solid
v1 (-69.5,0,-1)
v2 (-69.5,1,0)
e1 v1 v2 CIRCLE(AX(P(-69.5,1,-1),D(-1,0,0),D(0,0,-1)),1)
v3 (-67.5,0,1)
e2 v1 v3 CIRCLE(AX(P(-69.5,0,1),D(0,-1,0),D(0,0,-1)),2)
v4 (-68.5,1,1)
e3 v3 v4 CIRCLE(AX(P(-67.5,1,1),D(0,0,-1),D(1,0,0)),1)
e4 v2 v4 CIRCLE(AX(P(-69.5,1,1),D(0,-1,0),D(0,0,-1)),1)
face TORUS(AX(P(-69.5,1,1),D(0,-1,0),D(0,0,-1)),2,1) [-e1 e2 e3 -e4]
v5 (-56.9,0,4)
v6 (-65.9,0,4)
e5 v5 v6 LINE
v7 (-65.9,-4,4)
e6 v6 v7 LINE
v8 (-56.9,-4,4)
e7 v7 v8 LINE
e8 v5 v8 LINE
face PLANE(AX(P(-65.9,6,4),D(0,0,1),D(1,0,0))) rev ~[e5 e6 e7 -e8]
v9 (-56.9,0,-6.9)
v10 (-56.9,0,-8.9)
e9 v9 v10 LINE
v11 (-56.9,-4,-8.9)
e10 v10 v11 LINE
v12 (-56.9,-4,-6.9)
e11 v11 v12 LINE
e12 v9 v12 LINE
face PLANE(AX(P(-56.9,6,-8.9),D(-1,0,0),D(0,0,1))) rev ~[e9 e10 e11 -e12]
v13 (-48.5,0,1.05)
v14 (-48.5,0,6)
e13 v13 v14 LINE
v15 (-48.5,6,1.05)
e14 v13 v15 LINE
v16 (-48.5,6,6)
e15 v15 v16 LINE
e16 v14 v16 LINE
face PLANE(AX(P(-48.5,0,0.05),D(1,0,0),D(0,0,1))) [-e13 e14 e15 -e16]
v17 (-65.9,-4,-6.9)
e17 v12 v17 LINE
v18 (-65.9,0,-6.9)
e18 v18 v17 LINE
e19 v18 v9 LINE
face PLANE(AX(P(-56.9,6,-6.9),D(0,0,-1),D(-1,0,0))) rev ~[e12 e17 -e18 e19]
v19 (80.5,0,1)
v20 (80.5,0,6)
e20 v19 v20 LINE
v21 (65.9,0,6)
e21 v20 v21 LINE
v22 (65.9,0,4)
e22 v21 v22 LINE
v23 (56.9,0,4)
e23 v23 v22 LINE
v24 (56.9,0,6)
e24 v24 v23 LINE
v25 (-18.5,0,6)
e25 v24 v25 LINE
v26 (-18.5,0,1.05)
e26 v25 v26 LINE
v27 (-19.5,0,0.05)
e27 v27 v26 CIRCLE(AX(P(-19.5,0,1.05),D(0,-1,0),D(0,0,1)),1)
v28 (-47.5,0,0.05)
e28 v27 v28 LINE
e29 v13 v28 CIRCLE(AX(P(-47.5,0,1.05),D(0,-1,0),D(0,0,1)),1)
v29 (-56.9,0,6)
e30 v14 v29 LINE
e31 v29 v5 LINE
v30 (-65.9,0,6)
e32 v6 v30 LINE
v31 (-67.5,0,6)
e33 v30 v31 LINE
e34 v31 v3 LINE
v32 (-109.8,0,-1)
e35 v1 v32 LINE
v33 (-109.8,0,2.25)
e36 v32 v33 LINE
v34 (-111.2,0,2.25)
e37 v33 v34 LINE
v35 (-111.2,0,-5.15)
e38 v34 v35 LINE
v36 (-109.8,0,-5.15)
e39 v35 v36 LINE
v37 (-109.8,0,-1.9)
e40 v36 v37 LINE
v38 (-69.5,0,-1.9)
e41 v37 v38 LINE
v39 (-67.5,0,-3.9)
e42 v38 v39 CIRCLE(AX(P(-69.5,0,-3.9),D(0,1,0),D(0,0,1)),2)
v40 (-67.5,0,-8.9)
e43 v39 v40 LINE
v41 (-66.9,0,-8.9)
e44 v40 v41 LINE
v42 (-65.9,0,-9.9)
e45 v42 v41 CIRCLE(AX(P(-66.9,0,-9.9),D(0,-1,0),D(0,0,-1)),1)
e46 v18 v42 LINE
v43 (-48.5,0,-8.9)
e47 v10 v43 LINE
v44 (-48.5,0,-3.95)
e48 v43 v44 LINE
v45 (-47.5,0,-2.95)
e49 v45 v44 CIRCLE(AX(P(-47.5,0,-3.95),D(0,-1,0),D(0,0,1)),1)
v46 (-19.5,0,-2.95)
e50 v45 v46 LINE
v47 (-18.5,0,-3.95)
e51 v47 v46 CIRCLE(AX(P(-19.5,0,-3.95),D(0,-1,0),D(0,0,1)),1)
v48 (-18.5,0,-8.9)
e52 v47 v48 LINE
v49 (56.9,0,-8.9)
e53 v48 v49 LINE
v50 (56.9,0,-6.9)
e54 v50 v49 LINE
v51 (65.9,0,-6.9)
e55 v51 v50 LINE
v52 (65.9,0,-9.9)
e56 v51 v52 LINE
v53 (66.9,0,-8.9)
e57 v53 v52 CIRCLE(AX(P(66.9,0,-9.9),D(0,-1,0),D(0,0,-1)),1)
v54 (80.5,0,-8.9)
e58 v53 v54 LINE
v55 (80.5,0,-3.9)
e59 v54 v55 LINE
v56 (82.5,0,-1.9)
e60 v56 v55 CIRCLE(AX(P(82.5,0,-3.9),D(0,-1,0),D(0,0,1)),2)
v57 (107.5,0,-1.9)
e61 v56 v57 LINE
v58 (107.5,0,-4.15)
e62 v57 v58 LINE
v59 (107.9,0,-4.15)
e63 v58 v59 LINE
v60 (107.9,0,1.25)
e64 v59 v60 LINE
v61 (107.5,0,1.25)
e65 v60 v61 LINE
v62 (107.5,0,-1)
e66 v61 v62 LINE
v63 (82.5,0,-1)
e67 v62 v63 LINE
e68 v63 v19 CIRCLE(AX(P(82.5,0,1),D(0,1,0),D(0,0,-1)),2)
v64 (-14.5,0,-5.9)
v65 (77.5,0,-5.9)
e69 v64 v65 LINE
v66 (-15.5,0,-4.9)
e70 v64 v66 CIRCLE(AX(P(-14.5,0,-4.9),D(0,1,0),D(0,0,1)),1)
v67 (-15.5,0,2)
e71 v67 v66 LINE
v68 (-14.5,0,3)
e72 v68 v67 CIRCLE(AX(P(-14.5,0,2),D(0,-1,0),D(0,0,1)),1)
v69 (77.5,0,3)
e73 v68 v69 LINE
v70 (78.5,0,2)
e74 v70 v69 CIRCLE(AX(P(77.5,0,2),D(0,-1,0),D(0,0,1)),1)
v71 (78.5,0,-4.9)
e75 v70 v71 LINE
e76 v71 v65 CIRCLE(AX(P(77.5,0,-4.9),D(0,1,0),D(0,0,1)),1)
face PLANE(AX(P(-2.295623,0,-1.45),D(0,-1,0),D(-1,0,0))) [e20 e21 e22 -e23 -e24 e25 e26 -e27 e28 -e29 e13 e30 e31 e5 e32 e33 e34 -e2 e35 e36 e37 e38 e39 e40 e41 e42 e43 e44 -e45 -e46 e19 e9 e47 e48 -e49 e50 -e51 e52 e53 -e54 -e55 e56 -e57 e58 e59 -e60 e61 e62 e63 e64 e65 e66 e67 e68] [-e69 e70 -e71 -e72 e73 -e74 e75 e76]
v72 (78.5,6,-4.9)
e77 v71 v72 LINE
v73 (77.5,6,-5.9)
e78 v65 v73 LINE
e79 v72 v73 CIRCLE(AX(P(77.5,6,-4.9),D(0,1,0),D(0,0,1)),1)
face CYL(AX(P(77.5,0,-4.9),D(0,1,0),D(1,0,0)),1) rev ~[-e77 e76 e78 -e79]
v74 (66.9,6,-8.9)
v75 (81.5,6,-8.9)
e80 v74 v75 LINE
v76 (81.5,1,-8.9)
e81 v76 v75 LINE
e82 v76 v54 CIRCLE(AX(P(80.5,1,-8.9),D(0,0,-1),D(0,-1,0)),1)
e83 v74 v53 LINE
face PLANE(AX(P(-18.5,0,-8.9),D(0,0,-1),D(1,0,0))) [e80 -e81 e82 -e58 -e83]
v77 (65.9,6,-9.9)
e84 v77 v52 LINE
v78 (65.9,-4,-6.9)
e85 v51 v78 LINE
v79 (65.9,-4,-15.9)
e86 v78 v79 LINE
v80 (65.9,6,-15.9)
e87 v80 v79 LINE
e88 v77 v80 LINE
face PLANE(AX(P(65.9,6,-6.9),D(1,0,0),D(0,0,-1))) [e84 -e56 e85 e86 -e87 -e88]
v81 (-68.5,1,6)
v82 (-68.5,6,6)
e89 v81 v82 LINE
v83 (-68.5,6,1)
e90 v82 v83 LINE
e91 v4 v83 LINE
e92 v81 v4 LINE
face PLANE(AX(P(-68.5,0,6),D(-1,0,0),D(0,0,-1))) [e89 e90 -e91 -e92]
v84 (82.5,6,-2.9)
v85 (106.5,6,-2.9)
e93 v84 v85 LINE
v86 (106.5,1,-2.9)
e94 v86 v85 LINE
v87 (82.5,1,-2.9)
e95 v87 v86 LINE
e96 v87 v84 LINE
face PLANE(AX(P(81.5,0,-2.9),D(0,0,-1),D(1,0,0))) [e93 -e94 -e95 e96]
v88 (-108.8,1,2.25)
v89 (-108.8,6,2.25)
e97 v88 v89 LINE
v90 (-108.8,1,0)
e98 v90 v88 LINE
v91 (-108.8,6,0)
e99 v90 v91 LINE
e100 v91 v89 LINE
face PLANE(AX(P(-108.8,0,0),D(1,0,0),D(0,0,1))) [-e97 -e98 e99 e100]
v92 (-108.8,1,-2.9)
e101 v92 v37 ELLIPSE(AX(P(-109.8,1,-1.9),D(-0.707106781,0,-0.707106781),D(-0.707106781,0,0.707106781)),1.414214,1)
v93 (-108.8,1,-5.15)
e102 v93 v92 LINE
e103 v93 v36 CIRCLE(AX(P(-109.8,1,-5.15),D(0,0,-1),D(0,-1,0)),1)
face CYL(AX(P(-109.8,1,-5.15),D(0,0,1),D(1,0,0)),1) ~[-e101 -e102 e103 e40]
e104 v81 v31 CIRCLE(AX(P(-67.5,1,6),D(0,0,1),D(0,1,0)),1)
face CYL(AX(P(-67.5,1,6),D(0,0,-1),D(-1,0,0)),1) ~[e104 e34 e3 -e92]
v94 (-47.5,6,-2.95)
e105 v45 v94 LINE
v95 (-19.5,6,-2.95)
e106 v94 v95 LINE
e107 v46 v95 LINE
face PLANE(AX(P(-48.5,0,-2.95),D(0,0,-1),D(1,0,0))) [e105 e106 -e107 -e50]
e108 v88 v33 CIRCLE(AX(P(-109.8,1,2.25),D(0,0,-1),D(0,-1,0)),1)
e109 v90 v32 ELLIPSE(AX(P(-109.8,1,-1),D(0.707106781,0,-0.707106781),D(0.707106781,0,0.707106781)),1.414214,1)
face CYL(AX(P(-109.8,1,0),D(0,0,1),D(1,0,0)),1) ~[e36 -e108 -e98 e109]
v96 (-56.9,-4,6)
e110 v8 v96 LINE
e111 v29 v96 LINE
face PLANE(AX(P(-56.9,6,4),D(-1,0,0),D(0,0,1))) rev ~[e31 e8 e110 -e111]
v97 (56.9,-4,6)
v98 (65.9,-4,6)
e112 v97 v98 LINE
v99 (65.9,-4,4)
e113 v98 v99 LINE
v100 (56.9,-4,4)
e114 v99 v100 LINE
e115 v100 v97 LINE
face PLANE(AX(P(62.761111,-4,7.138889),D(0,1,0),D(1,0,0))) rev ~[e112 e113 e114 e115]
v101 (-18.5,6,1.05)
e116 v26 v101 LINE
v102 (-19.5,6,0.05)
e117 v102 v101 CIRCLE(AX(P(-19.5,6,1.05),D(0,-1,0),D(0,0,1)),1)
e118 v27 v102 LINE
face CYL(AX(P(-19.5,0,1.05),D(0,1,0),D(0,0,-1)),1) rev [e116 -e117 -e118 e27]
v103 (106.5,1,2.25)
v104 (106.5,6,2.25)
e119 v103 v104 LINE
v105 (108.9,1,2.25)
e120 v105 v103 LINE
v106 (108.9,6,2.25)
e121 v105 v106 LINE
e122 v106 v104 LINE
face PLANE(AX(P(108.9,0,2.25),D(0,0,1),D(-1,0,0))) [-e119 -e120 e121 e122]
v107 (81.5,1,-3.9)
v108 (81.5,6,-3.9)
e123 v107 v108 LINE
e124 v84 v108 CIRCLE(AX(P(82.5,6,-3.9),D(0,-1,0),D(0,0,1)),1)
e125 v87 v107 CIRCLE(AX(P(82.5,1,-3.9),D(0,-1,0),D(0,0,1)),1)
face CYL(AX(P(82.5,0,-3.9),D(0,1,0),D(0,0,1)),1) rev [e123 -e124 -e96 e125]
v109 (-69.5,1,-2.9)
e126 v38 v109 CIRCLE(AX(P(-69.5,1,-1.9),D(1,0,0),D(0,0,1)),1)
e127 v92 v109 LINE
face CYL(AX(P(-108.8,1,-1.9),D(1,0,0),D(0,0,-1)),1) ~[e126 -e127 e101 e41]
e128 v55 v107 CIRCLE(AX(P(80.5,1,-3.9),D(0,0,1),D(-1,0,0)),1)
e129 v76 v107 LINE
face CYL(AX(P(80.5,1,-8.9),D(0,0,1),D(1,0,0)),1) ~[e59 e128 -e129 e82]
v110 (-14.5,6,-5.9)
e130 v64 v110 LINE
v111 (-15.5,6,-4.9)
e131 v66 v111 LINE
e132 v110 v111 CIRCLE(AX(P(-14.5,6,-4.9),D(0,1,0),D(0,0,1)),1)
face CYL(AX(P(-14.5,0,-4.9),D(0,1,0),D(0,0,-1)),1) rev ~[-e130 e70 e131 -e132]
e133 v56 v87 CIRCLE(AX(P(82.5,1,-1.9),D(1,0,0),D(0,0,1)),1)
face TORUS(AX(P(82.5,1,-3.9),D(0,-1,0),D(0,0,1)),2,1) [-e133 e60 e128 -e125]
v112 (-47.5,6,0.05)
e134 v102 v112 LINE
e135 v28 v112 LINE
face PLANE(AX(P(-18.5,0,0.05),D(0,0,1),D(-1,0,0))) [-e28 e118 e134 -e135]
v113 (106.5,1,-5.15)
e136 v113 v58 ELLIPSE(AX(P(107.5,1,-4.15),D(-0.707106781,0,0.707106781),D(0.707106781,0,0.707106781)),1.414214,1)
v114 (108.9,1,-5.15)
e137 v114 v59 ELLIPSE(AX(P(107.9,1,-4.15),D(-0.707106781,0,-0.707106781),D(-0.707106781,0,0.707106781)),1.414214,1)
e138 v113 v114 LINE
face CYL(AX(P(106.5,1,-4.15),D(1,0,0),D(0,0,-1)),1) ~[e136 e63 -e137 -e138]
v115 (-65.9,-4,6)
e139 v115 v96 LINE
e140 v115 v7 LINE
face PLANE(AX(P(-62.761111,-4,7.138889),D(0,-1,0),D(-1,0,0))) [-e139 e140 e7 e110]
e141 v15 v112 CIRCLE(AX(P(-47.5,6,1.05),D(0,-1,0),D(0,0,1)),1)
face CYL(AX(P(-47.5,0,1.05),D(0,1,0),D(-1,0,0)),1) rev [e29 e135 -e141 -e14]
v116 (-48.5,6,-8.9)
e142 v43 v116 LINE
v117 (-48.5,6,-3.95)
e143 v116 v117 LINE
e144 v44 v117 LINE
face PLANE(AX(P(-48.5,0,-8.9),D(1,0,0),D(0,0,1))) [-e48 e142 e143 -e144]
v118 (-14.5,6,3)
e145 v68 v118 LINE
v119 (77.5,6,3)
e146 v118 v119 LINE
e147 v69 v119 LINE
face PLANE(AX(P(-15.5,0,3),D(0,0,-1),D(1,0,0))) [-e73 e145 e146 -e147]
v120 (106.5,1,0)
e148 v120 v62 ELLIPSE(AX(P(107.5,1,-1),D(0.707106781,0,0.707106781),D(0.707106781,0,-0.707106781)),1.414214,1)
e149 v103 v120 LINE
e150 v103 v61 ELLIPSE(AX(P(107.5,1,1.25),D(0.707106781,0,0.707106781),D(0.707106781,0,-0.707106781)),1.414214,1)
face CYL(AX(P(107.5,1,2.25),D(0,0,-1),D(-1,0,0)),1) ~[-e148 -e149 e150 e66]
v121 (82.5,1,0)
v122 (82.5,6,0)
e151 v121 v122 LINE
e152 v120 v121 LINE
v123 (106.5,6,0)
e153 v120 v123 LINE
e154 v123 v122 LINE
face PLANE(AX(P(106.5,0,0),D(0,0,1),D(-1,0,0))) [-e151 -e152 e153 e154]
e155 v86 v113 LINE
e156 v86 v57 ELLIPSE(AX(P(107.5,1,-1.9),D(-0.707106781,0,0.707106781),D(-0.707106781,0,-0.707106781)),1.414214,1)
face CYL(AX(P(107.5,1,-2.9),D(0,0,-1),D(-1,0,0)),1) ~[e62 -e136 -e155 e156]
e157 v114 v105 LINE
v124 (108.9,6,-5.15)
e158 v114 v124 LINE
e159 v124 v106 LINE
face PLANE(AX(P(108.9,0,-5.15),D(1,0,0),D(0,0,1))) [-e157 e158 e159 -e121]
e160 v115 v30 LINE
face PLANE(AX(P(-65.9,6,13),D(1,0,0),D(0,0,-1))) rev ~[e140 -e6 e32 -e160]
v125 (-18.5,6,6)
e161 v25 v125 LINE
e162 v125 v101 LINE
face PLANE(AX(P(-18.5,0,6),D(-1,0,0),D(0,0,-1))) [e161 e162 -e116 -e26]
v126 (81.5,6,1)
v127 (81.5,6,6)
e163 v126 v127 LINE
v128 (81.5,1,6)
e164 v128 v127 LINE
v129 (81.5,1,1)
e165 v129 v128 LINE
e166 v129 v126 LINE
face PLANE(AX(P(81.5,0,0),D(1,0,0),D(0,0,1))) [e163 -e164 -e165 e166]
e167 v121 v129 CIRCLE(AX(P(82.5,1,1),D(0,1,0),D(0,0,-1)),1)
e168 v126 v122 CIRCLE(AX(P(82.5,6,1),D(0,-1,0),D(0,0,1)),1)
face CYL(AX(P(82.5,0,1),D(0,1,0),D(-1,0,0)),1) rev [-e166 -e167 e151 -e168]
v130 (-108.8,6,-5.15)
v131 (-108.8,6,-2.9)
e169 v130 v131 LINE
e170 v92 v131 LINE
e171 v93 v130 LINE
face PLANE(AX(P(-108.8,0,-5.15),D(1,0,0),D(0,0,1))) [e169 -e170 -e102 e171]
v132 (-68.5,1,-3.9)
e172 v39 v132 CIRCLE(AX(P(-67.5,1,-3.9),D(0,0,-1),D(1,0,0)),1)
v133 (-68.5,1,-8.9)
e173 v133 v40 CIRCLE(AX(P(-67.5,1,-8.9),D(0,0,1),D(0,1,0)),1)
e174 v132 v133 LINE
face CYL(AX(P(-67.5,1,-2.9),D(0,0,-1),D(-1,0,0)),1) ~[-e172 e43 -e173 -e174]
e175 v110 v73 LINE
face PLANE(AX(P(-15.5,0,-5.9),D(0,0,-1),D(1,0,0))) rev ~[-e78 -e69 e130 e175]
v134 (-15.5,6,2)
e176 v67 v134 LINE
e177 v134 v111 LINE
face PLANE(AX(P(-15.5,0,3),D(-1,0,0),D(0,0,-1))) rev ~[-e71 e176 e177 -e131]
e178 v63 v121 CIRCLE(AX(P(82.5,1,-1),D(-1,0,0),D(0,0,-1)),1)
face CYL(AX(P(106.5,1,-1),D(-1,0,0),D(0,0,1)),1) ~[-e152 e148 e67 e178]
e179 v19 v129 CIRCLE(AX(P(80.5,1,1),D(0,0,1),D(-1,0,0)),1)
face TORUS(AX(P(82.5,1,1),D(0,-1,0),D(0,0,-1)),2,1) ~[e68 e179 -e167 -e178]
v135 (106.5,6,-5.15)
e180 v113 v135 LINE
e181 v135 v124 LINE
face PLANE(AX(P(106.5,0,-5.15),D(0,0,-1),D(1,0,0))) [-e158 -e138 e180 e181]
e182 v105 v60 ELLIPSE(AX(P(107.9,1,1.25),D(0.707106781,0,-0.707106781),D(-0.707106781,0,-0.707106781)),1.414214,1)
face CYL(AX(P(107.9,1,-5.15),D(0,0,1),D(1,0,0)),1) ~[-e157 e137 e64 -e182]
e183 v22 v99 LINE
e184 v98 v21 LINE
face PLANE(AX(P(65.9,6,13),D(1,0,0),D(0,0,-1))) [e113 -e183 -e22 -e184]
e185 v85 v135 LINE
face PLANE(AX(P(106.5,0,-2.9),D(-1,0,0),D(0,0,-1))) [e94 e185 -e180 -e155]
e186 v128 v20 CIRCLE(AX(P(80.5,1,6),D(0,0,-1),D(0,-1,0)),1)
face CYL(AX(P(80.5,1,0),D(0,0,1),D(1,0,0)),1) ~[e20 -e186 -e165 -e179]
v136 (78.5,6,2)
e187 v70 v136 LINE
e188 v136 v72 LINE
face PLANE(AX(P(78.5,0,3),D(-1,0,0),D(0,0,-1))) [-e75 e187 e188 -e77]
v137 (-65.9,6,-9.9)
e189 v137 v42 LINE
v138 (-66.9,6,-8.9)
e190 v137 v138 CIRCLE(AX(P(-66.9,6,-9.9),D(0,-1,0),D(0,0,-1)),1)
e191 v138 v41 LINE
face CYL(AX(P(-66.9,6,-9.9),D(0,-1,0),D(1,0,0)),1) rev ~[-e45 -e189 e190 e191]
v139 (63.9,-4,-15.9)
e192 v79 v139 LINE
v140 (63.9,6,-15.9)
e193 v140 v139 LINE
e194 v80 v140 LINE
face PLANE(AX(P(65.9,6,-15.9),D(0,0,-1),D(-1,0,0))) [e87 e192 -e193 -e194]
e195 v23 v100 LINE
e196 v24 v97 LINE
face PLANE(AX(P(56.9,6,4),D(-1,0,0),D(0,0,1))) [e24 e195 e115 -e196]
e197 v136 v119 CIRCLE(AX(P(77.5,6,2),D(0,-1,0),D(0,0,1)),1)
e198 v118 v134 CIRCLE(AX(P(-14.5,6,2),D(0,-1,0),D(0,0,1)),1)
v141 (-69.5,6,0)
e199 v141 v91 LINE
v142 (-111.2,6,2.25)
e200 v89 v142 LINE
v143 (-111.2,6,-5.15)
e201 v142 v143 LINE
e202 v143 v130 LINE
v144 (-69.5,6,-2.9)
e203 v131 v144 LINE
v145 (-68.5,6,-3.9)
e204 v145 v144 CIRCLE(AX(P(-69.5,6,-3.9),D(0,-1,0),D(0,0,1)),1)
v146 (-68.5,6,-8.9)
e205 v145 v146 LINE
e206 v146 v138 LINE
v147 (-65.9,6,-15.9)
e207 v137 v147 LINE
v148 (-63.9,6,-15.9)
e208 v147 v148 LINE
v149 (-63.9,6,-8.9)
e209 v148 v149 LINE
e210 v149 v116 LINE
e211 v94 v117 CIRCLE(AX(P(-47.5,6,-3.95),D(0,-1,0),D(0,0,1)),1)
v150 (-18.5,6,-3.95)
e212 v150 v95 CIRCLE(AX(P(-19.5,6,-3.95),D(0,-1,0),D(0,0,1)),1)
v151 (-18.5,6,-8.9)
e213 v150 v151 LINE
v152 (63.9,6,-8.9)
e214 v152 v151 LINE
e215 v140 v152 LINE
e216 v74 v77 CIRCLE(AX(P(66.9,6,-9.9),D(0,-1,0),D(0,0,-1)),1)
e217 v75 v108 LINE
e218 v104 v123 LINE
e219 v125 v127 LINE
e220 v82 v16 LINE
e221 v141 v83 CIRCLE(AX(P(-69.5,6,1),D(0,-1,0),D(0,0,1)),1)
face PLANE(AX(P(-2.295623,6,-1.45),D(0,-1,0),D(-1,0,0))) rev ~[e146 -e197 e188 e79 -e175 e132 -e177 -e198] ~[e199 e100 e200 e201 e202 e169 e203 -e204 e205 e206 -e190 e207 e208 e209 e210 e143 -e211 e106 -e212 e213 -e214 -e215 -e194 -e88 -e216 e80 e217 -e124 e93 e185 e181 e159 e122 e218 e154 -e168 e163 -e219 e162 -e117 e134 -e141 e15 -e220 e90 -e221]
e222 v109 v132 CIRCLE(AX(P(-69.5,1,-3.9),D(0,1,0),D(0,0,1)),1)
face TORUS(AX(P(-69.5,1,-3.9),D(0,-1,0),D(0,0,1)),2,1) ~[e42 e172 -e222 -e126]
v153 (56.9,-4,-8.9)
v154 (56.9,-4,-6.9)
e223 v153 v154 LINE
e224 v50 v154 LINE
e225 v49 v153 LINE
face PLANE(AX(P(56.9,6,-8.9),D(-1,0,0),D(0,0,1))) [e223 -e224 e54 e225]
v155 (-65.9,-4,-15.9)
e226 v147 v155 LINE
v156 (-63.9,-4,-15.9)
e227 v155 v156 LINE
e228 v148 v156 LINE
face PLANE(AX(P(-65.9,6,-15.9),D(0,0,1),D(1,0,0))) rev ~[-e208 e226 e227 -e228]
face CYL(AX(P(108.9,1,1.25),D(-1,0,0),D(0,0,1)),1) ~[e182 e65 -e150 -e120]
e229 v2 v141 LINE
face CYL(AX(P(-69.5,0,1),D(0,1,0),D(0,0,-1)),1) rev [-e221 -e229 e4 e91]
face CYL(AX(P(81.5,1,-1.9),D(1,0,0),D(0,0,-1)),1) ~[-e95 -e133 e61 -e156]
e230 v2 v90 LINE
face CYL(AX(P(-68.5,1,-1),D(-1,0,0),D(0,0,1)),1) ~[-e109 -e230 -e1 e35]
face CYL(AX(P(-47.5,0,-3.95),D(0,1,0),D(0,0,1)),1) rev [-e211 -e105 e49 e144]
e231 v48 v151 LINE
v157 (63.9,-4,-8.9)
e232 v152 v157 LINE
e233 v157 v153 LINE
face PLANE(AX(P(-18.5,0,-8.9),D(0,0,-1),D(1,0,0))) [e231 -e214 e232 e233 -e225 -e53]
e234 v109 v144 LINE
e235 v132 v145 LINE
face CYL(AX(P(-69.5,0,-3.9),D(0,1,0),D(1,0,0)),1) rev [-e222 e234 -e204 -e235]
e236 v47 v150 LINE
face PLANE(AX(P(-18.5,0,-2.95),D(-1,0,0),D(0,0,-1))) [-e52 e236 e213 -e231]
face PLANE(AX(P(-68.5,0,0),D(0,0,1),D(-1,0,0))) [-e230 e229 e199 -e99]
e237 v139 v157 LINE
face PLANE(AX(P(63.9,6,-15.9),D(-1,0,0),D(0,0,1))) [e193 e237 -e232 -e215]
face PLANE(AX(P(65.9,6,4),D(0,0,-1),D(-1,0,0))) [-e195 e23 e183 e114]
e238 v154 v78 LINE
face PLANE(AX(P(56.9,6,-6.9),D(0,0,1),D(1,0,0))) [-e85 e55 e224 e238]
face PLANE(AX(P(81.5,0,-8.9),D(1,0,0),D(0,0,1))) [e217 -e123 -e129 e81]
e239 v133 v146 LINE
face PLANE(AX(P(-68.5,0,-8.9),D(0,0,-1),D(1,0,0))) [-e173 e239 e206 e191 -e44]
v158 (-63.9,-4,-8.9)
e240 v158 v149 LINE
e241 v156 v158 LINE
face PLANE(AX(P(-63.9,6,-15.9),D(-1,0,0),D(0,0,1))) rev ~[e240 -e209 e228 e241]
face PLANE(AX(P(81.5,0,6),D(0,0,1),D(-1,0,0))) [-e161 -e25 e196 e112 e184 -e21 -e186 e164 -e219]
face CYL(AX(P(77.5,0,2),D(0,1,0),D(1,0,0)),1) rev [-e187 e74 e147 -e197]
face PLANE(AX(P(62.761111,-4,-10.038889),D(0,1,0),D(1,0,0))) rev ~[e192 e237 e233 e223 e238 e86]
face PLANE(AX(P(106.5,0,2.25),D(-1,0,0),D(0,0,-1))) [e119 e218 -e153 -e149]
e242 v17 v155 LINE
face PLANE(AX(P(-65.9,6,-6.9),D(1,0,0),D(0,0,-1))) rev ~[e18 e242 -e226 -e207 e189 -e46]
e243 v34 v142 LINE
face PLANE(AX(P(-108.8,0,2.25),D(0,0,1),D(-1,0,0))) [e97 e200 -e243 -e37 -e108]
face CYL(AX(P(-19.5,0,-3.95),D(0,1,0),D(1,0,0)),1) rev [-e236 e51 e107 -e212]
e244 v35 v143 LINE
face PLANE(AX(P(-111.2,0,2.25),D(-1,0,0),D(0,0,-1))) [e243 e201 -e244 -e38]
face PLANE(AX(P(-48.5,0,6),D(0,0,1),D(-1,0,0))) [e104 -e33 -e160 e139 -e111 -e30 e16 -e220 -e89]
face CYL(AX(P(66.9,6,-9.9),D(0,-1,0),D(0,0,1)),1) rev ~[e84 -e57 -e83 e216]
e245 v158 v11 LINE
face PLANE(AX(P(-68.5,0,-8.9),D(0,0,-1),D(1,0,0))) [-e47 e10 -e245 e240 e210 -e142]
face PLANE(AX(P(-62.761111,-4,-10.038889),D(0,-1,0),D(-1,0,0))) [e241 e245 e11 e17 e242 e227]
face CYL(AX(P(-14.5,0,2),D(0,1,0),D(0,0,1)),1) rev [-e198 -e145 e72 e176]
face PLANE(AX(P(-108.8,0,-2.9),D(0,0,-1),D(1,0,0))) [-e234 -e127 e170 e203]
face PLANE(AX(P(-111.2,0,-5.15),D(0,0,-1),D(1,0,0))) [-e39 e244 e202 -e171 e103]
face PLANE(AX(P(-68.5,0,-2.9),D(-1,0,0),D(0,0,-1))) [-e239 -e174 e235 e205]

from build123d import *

# Parameters (mm, degrees)
SKETCH1_W               = 94
SKETCH1_H               = 8.9
BOSS_EXTRUDE1_DEPTH     = 6
BOSS_EXTRUDE2_DEPTH     = 10
FILLET1_R               = 1
CUT_EXTRUDE1_DEPTH      = 113.775218909
CUT_EXTRUDE1_DEPTH_BACK = 113.775218909
SKETCH3_W               = 150
SKETCH3_H               = 7


with BuildPart() as part:
    # Sketch1 → Boss-Extrude1 (new body)
    with BuildSketch(Plane(origin=(0, 0, 0), x_dir=(1, 0, 0), z_dir=(0, 1, 0))):
        Polygon((106.5, 2.9), (106.5, 5.15), (108.9, 5.15), (108.9, -2.25), (106.5, -2.25), (106.5, 0), (81.5, 0), (81.5, -6), (-18.5, -6), (-18.5, -0.05), (-48.5, -0.05), (-48.5, -6), (-68.5, -6), (-68.5, 0), (-108.8, 0), (-108.8, -2.25), (-111.2, -2.25), (-111.2, 5.15), (-108.8, 5.15), (-108.8, 2.9), (-68.5, 2.9), (-68.5, 8.9), (-48.5, 8.9), (-48.5, 2.95), (-18.5, 2.95), (-18.5, 8.9), (81.5, 8.9), (81.5, 2.9), align=None)
        with Locations((31.5, 1.45)):
            Rectangle(SKETCH1_W, SKETCH1_H, mode=Mode.SUBTRACT)
    extrude(amount=BOSS_EXTRUDE1_DEPTH)

    # Sketch2 → Boss-Extrude2 (add)
    with BuildSketch(Plane(origin=(0, 6, 0), x_dir=(1, 0, 0), z_dir=(0, 1, 0))):
        Polygon((-65.9, 6.9), (-65.9, 15.9), (-63.9, 15.9), (-63.9, 8.9), (-56.9, 8.9), (-56.9, 6.9), align=None)
        Polygon((-65.9, -4), (-56.9, -4), (-56.9, -6), (-63.9, -6), (-63.9, -13), (-65.9, -13), align=None)
        Polygon((65.9, -13), (65.9, -4), (56.9, -4), (56.9, -6), (63.9, -6), (63.9, -13), align=None)
        Polygon((56.9, 6.9), (65.9, 6.9), (65.9, 15.9), (63.9, 15.9), (63.9, 8.9), (56.9, 8.9), align=None)
    extrude(amount=-BOSS_EXTRUDE2_DEPTH)

    # Fillet1
    fillet1_edges = [part.edges().sort_by_distance(p)[0] for p in [
        (-68.5, 0, 3),
        (-68.5, 0, -5.9),
        (-108.8, 0, -4.025),
        (-108.8, 0, 1.125),
        (-68.5, 3, 0),
        (-68.5, 3, -2.9),
        (-88.65, 0, 0),
        (-88.65, 0, -2.9),
        (81.5, 0, -5.9),
        (81.5, 0, 3),
        (78.5, 3, -5.9),
        (78.5, 3, 3),
        (-15.5, 3, 3),
        (-15.5, 3, -5.9),
        (-18.5, 3, -2.95),
        (-18.5, 3, 0.05),
        (-48.5, 3, -2.95),
        (-48.5, 3, 0.05),
        (-65.9, 3, 6),
        (-65.9, 3, -8.9),
        (65.9, 3, -8.9),
        (65.9, 3, 6),
        (81.5, 3, -2.9),
        (81.5, 3, 0),
        (106.5, 0, 1.125),
        (107.7, 0, 2.25),
        (108.9, 0, -1.45),
        (107.7, 0, -5.15),
        (106.5, 0, -4.025),
        (94, 0, -2.9),
        (94, 0, 0),
    ]]
    fillet(fillet1_edges, radius=FILLET1_R)

    # Sketch3 → Cut-Extrude1 (cut, two sides: drawn at the far end of the back side and taken through both)
    with BuildSketch(Plane(origin=(0, 6, 0), x_dir=(1, 0, 0), z_dir=(0, 1, 0)).offset(-CUT_EXTRUDE1_DEPTH_BACK)):
        with Locations((6.5, -9.5)):
            Rectangle(SKETCH3_W, SKETCH3_H)
    extrude(amount=CUT_EXTRUDE1_DEPTH + CUT_EXTRUDE1_DEPTH_BACK, mode=Mode.SUBTRACT)


solid = part.part
